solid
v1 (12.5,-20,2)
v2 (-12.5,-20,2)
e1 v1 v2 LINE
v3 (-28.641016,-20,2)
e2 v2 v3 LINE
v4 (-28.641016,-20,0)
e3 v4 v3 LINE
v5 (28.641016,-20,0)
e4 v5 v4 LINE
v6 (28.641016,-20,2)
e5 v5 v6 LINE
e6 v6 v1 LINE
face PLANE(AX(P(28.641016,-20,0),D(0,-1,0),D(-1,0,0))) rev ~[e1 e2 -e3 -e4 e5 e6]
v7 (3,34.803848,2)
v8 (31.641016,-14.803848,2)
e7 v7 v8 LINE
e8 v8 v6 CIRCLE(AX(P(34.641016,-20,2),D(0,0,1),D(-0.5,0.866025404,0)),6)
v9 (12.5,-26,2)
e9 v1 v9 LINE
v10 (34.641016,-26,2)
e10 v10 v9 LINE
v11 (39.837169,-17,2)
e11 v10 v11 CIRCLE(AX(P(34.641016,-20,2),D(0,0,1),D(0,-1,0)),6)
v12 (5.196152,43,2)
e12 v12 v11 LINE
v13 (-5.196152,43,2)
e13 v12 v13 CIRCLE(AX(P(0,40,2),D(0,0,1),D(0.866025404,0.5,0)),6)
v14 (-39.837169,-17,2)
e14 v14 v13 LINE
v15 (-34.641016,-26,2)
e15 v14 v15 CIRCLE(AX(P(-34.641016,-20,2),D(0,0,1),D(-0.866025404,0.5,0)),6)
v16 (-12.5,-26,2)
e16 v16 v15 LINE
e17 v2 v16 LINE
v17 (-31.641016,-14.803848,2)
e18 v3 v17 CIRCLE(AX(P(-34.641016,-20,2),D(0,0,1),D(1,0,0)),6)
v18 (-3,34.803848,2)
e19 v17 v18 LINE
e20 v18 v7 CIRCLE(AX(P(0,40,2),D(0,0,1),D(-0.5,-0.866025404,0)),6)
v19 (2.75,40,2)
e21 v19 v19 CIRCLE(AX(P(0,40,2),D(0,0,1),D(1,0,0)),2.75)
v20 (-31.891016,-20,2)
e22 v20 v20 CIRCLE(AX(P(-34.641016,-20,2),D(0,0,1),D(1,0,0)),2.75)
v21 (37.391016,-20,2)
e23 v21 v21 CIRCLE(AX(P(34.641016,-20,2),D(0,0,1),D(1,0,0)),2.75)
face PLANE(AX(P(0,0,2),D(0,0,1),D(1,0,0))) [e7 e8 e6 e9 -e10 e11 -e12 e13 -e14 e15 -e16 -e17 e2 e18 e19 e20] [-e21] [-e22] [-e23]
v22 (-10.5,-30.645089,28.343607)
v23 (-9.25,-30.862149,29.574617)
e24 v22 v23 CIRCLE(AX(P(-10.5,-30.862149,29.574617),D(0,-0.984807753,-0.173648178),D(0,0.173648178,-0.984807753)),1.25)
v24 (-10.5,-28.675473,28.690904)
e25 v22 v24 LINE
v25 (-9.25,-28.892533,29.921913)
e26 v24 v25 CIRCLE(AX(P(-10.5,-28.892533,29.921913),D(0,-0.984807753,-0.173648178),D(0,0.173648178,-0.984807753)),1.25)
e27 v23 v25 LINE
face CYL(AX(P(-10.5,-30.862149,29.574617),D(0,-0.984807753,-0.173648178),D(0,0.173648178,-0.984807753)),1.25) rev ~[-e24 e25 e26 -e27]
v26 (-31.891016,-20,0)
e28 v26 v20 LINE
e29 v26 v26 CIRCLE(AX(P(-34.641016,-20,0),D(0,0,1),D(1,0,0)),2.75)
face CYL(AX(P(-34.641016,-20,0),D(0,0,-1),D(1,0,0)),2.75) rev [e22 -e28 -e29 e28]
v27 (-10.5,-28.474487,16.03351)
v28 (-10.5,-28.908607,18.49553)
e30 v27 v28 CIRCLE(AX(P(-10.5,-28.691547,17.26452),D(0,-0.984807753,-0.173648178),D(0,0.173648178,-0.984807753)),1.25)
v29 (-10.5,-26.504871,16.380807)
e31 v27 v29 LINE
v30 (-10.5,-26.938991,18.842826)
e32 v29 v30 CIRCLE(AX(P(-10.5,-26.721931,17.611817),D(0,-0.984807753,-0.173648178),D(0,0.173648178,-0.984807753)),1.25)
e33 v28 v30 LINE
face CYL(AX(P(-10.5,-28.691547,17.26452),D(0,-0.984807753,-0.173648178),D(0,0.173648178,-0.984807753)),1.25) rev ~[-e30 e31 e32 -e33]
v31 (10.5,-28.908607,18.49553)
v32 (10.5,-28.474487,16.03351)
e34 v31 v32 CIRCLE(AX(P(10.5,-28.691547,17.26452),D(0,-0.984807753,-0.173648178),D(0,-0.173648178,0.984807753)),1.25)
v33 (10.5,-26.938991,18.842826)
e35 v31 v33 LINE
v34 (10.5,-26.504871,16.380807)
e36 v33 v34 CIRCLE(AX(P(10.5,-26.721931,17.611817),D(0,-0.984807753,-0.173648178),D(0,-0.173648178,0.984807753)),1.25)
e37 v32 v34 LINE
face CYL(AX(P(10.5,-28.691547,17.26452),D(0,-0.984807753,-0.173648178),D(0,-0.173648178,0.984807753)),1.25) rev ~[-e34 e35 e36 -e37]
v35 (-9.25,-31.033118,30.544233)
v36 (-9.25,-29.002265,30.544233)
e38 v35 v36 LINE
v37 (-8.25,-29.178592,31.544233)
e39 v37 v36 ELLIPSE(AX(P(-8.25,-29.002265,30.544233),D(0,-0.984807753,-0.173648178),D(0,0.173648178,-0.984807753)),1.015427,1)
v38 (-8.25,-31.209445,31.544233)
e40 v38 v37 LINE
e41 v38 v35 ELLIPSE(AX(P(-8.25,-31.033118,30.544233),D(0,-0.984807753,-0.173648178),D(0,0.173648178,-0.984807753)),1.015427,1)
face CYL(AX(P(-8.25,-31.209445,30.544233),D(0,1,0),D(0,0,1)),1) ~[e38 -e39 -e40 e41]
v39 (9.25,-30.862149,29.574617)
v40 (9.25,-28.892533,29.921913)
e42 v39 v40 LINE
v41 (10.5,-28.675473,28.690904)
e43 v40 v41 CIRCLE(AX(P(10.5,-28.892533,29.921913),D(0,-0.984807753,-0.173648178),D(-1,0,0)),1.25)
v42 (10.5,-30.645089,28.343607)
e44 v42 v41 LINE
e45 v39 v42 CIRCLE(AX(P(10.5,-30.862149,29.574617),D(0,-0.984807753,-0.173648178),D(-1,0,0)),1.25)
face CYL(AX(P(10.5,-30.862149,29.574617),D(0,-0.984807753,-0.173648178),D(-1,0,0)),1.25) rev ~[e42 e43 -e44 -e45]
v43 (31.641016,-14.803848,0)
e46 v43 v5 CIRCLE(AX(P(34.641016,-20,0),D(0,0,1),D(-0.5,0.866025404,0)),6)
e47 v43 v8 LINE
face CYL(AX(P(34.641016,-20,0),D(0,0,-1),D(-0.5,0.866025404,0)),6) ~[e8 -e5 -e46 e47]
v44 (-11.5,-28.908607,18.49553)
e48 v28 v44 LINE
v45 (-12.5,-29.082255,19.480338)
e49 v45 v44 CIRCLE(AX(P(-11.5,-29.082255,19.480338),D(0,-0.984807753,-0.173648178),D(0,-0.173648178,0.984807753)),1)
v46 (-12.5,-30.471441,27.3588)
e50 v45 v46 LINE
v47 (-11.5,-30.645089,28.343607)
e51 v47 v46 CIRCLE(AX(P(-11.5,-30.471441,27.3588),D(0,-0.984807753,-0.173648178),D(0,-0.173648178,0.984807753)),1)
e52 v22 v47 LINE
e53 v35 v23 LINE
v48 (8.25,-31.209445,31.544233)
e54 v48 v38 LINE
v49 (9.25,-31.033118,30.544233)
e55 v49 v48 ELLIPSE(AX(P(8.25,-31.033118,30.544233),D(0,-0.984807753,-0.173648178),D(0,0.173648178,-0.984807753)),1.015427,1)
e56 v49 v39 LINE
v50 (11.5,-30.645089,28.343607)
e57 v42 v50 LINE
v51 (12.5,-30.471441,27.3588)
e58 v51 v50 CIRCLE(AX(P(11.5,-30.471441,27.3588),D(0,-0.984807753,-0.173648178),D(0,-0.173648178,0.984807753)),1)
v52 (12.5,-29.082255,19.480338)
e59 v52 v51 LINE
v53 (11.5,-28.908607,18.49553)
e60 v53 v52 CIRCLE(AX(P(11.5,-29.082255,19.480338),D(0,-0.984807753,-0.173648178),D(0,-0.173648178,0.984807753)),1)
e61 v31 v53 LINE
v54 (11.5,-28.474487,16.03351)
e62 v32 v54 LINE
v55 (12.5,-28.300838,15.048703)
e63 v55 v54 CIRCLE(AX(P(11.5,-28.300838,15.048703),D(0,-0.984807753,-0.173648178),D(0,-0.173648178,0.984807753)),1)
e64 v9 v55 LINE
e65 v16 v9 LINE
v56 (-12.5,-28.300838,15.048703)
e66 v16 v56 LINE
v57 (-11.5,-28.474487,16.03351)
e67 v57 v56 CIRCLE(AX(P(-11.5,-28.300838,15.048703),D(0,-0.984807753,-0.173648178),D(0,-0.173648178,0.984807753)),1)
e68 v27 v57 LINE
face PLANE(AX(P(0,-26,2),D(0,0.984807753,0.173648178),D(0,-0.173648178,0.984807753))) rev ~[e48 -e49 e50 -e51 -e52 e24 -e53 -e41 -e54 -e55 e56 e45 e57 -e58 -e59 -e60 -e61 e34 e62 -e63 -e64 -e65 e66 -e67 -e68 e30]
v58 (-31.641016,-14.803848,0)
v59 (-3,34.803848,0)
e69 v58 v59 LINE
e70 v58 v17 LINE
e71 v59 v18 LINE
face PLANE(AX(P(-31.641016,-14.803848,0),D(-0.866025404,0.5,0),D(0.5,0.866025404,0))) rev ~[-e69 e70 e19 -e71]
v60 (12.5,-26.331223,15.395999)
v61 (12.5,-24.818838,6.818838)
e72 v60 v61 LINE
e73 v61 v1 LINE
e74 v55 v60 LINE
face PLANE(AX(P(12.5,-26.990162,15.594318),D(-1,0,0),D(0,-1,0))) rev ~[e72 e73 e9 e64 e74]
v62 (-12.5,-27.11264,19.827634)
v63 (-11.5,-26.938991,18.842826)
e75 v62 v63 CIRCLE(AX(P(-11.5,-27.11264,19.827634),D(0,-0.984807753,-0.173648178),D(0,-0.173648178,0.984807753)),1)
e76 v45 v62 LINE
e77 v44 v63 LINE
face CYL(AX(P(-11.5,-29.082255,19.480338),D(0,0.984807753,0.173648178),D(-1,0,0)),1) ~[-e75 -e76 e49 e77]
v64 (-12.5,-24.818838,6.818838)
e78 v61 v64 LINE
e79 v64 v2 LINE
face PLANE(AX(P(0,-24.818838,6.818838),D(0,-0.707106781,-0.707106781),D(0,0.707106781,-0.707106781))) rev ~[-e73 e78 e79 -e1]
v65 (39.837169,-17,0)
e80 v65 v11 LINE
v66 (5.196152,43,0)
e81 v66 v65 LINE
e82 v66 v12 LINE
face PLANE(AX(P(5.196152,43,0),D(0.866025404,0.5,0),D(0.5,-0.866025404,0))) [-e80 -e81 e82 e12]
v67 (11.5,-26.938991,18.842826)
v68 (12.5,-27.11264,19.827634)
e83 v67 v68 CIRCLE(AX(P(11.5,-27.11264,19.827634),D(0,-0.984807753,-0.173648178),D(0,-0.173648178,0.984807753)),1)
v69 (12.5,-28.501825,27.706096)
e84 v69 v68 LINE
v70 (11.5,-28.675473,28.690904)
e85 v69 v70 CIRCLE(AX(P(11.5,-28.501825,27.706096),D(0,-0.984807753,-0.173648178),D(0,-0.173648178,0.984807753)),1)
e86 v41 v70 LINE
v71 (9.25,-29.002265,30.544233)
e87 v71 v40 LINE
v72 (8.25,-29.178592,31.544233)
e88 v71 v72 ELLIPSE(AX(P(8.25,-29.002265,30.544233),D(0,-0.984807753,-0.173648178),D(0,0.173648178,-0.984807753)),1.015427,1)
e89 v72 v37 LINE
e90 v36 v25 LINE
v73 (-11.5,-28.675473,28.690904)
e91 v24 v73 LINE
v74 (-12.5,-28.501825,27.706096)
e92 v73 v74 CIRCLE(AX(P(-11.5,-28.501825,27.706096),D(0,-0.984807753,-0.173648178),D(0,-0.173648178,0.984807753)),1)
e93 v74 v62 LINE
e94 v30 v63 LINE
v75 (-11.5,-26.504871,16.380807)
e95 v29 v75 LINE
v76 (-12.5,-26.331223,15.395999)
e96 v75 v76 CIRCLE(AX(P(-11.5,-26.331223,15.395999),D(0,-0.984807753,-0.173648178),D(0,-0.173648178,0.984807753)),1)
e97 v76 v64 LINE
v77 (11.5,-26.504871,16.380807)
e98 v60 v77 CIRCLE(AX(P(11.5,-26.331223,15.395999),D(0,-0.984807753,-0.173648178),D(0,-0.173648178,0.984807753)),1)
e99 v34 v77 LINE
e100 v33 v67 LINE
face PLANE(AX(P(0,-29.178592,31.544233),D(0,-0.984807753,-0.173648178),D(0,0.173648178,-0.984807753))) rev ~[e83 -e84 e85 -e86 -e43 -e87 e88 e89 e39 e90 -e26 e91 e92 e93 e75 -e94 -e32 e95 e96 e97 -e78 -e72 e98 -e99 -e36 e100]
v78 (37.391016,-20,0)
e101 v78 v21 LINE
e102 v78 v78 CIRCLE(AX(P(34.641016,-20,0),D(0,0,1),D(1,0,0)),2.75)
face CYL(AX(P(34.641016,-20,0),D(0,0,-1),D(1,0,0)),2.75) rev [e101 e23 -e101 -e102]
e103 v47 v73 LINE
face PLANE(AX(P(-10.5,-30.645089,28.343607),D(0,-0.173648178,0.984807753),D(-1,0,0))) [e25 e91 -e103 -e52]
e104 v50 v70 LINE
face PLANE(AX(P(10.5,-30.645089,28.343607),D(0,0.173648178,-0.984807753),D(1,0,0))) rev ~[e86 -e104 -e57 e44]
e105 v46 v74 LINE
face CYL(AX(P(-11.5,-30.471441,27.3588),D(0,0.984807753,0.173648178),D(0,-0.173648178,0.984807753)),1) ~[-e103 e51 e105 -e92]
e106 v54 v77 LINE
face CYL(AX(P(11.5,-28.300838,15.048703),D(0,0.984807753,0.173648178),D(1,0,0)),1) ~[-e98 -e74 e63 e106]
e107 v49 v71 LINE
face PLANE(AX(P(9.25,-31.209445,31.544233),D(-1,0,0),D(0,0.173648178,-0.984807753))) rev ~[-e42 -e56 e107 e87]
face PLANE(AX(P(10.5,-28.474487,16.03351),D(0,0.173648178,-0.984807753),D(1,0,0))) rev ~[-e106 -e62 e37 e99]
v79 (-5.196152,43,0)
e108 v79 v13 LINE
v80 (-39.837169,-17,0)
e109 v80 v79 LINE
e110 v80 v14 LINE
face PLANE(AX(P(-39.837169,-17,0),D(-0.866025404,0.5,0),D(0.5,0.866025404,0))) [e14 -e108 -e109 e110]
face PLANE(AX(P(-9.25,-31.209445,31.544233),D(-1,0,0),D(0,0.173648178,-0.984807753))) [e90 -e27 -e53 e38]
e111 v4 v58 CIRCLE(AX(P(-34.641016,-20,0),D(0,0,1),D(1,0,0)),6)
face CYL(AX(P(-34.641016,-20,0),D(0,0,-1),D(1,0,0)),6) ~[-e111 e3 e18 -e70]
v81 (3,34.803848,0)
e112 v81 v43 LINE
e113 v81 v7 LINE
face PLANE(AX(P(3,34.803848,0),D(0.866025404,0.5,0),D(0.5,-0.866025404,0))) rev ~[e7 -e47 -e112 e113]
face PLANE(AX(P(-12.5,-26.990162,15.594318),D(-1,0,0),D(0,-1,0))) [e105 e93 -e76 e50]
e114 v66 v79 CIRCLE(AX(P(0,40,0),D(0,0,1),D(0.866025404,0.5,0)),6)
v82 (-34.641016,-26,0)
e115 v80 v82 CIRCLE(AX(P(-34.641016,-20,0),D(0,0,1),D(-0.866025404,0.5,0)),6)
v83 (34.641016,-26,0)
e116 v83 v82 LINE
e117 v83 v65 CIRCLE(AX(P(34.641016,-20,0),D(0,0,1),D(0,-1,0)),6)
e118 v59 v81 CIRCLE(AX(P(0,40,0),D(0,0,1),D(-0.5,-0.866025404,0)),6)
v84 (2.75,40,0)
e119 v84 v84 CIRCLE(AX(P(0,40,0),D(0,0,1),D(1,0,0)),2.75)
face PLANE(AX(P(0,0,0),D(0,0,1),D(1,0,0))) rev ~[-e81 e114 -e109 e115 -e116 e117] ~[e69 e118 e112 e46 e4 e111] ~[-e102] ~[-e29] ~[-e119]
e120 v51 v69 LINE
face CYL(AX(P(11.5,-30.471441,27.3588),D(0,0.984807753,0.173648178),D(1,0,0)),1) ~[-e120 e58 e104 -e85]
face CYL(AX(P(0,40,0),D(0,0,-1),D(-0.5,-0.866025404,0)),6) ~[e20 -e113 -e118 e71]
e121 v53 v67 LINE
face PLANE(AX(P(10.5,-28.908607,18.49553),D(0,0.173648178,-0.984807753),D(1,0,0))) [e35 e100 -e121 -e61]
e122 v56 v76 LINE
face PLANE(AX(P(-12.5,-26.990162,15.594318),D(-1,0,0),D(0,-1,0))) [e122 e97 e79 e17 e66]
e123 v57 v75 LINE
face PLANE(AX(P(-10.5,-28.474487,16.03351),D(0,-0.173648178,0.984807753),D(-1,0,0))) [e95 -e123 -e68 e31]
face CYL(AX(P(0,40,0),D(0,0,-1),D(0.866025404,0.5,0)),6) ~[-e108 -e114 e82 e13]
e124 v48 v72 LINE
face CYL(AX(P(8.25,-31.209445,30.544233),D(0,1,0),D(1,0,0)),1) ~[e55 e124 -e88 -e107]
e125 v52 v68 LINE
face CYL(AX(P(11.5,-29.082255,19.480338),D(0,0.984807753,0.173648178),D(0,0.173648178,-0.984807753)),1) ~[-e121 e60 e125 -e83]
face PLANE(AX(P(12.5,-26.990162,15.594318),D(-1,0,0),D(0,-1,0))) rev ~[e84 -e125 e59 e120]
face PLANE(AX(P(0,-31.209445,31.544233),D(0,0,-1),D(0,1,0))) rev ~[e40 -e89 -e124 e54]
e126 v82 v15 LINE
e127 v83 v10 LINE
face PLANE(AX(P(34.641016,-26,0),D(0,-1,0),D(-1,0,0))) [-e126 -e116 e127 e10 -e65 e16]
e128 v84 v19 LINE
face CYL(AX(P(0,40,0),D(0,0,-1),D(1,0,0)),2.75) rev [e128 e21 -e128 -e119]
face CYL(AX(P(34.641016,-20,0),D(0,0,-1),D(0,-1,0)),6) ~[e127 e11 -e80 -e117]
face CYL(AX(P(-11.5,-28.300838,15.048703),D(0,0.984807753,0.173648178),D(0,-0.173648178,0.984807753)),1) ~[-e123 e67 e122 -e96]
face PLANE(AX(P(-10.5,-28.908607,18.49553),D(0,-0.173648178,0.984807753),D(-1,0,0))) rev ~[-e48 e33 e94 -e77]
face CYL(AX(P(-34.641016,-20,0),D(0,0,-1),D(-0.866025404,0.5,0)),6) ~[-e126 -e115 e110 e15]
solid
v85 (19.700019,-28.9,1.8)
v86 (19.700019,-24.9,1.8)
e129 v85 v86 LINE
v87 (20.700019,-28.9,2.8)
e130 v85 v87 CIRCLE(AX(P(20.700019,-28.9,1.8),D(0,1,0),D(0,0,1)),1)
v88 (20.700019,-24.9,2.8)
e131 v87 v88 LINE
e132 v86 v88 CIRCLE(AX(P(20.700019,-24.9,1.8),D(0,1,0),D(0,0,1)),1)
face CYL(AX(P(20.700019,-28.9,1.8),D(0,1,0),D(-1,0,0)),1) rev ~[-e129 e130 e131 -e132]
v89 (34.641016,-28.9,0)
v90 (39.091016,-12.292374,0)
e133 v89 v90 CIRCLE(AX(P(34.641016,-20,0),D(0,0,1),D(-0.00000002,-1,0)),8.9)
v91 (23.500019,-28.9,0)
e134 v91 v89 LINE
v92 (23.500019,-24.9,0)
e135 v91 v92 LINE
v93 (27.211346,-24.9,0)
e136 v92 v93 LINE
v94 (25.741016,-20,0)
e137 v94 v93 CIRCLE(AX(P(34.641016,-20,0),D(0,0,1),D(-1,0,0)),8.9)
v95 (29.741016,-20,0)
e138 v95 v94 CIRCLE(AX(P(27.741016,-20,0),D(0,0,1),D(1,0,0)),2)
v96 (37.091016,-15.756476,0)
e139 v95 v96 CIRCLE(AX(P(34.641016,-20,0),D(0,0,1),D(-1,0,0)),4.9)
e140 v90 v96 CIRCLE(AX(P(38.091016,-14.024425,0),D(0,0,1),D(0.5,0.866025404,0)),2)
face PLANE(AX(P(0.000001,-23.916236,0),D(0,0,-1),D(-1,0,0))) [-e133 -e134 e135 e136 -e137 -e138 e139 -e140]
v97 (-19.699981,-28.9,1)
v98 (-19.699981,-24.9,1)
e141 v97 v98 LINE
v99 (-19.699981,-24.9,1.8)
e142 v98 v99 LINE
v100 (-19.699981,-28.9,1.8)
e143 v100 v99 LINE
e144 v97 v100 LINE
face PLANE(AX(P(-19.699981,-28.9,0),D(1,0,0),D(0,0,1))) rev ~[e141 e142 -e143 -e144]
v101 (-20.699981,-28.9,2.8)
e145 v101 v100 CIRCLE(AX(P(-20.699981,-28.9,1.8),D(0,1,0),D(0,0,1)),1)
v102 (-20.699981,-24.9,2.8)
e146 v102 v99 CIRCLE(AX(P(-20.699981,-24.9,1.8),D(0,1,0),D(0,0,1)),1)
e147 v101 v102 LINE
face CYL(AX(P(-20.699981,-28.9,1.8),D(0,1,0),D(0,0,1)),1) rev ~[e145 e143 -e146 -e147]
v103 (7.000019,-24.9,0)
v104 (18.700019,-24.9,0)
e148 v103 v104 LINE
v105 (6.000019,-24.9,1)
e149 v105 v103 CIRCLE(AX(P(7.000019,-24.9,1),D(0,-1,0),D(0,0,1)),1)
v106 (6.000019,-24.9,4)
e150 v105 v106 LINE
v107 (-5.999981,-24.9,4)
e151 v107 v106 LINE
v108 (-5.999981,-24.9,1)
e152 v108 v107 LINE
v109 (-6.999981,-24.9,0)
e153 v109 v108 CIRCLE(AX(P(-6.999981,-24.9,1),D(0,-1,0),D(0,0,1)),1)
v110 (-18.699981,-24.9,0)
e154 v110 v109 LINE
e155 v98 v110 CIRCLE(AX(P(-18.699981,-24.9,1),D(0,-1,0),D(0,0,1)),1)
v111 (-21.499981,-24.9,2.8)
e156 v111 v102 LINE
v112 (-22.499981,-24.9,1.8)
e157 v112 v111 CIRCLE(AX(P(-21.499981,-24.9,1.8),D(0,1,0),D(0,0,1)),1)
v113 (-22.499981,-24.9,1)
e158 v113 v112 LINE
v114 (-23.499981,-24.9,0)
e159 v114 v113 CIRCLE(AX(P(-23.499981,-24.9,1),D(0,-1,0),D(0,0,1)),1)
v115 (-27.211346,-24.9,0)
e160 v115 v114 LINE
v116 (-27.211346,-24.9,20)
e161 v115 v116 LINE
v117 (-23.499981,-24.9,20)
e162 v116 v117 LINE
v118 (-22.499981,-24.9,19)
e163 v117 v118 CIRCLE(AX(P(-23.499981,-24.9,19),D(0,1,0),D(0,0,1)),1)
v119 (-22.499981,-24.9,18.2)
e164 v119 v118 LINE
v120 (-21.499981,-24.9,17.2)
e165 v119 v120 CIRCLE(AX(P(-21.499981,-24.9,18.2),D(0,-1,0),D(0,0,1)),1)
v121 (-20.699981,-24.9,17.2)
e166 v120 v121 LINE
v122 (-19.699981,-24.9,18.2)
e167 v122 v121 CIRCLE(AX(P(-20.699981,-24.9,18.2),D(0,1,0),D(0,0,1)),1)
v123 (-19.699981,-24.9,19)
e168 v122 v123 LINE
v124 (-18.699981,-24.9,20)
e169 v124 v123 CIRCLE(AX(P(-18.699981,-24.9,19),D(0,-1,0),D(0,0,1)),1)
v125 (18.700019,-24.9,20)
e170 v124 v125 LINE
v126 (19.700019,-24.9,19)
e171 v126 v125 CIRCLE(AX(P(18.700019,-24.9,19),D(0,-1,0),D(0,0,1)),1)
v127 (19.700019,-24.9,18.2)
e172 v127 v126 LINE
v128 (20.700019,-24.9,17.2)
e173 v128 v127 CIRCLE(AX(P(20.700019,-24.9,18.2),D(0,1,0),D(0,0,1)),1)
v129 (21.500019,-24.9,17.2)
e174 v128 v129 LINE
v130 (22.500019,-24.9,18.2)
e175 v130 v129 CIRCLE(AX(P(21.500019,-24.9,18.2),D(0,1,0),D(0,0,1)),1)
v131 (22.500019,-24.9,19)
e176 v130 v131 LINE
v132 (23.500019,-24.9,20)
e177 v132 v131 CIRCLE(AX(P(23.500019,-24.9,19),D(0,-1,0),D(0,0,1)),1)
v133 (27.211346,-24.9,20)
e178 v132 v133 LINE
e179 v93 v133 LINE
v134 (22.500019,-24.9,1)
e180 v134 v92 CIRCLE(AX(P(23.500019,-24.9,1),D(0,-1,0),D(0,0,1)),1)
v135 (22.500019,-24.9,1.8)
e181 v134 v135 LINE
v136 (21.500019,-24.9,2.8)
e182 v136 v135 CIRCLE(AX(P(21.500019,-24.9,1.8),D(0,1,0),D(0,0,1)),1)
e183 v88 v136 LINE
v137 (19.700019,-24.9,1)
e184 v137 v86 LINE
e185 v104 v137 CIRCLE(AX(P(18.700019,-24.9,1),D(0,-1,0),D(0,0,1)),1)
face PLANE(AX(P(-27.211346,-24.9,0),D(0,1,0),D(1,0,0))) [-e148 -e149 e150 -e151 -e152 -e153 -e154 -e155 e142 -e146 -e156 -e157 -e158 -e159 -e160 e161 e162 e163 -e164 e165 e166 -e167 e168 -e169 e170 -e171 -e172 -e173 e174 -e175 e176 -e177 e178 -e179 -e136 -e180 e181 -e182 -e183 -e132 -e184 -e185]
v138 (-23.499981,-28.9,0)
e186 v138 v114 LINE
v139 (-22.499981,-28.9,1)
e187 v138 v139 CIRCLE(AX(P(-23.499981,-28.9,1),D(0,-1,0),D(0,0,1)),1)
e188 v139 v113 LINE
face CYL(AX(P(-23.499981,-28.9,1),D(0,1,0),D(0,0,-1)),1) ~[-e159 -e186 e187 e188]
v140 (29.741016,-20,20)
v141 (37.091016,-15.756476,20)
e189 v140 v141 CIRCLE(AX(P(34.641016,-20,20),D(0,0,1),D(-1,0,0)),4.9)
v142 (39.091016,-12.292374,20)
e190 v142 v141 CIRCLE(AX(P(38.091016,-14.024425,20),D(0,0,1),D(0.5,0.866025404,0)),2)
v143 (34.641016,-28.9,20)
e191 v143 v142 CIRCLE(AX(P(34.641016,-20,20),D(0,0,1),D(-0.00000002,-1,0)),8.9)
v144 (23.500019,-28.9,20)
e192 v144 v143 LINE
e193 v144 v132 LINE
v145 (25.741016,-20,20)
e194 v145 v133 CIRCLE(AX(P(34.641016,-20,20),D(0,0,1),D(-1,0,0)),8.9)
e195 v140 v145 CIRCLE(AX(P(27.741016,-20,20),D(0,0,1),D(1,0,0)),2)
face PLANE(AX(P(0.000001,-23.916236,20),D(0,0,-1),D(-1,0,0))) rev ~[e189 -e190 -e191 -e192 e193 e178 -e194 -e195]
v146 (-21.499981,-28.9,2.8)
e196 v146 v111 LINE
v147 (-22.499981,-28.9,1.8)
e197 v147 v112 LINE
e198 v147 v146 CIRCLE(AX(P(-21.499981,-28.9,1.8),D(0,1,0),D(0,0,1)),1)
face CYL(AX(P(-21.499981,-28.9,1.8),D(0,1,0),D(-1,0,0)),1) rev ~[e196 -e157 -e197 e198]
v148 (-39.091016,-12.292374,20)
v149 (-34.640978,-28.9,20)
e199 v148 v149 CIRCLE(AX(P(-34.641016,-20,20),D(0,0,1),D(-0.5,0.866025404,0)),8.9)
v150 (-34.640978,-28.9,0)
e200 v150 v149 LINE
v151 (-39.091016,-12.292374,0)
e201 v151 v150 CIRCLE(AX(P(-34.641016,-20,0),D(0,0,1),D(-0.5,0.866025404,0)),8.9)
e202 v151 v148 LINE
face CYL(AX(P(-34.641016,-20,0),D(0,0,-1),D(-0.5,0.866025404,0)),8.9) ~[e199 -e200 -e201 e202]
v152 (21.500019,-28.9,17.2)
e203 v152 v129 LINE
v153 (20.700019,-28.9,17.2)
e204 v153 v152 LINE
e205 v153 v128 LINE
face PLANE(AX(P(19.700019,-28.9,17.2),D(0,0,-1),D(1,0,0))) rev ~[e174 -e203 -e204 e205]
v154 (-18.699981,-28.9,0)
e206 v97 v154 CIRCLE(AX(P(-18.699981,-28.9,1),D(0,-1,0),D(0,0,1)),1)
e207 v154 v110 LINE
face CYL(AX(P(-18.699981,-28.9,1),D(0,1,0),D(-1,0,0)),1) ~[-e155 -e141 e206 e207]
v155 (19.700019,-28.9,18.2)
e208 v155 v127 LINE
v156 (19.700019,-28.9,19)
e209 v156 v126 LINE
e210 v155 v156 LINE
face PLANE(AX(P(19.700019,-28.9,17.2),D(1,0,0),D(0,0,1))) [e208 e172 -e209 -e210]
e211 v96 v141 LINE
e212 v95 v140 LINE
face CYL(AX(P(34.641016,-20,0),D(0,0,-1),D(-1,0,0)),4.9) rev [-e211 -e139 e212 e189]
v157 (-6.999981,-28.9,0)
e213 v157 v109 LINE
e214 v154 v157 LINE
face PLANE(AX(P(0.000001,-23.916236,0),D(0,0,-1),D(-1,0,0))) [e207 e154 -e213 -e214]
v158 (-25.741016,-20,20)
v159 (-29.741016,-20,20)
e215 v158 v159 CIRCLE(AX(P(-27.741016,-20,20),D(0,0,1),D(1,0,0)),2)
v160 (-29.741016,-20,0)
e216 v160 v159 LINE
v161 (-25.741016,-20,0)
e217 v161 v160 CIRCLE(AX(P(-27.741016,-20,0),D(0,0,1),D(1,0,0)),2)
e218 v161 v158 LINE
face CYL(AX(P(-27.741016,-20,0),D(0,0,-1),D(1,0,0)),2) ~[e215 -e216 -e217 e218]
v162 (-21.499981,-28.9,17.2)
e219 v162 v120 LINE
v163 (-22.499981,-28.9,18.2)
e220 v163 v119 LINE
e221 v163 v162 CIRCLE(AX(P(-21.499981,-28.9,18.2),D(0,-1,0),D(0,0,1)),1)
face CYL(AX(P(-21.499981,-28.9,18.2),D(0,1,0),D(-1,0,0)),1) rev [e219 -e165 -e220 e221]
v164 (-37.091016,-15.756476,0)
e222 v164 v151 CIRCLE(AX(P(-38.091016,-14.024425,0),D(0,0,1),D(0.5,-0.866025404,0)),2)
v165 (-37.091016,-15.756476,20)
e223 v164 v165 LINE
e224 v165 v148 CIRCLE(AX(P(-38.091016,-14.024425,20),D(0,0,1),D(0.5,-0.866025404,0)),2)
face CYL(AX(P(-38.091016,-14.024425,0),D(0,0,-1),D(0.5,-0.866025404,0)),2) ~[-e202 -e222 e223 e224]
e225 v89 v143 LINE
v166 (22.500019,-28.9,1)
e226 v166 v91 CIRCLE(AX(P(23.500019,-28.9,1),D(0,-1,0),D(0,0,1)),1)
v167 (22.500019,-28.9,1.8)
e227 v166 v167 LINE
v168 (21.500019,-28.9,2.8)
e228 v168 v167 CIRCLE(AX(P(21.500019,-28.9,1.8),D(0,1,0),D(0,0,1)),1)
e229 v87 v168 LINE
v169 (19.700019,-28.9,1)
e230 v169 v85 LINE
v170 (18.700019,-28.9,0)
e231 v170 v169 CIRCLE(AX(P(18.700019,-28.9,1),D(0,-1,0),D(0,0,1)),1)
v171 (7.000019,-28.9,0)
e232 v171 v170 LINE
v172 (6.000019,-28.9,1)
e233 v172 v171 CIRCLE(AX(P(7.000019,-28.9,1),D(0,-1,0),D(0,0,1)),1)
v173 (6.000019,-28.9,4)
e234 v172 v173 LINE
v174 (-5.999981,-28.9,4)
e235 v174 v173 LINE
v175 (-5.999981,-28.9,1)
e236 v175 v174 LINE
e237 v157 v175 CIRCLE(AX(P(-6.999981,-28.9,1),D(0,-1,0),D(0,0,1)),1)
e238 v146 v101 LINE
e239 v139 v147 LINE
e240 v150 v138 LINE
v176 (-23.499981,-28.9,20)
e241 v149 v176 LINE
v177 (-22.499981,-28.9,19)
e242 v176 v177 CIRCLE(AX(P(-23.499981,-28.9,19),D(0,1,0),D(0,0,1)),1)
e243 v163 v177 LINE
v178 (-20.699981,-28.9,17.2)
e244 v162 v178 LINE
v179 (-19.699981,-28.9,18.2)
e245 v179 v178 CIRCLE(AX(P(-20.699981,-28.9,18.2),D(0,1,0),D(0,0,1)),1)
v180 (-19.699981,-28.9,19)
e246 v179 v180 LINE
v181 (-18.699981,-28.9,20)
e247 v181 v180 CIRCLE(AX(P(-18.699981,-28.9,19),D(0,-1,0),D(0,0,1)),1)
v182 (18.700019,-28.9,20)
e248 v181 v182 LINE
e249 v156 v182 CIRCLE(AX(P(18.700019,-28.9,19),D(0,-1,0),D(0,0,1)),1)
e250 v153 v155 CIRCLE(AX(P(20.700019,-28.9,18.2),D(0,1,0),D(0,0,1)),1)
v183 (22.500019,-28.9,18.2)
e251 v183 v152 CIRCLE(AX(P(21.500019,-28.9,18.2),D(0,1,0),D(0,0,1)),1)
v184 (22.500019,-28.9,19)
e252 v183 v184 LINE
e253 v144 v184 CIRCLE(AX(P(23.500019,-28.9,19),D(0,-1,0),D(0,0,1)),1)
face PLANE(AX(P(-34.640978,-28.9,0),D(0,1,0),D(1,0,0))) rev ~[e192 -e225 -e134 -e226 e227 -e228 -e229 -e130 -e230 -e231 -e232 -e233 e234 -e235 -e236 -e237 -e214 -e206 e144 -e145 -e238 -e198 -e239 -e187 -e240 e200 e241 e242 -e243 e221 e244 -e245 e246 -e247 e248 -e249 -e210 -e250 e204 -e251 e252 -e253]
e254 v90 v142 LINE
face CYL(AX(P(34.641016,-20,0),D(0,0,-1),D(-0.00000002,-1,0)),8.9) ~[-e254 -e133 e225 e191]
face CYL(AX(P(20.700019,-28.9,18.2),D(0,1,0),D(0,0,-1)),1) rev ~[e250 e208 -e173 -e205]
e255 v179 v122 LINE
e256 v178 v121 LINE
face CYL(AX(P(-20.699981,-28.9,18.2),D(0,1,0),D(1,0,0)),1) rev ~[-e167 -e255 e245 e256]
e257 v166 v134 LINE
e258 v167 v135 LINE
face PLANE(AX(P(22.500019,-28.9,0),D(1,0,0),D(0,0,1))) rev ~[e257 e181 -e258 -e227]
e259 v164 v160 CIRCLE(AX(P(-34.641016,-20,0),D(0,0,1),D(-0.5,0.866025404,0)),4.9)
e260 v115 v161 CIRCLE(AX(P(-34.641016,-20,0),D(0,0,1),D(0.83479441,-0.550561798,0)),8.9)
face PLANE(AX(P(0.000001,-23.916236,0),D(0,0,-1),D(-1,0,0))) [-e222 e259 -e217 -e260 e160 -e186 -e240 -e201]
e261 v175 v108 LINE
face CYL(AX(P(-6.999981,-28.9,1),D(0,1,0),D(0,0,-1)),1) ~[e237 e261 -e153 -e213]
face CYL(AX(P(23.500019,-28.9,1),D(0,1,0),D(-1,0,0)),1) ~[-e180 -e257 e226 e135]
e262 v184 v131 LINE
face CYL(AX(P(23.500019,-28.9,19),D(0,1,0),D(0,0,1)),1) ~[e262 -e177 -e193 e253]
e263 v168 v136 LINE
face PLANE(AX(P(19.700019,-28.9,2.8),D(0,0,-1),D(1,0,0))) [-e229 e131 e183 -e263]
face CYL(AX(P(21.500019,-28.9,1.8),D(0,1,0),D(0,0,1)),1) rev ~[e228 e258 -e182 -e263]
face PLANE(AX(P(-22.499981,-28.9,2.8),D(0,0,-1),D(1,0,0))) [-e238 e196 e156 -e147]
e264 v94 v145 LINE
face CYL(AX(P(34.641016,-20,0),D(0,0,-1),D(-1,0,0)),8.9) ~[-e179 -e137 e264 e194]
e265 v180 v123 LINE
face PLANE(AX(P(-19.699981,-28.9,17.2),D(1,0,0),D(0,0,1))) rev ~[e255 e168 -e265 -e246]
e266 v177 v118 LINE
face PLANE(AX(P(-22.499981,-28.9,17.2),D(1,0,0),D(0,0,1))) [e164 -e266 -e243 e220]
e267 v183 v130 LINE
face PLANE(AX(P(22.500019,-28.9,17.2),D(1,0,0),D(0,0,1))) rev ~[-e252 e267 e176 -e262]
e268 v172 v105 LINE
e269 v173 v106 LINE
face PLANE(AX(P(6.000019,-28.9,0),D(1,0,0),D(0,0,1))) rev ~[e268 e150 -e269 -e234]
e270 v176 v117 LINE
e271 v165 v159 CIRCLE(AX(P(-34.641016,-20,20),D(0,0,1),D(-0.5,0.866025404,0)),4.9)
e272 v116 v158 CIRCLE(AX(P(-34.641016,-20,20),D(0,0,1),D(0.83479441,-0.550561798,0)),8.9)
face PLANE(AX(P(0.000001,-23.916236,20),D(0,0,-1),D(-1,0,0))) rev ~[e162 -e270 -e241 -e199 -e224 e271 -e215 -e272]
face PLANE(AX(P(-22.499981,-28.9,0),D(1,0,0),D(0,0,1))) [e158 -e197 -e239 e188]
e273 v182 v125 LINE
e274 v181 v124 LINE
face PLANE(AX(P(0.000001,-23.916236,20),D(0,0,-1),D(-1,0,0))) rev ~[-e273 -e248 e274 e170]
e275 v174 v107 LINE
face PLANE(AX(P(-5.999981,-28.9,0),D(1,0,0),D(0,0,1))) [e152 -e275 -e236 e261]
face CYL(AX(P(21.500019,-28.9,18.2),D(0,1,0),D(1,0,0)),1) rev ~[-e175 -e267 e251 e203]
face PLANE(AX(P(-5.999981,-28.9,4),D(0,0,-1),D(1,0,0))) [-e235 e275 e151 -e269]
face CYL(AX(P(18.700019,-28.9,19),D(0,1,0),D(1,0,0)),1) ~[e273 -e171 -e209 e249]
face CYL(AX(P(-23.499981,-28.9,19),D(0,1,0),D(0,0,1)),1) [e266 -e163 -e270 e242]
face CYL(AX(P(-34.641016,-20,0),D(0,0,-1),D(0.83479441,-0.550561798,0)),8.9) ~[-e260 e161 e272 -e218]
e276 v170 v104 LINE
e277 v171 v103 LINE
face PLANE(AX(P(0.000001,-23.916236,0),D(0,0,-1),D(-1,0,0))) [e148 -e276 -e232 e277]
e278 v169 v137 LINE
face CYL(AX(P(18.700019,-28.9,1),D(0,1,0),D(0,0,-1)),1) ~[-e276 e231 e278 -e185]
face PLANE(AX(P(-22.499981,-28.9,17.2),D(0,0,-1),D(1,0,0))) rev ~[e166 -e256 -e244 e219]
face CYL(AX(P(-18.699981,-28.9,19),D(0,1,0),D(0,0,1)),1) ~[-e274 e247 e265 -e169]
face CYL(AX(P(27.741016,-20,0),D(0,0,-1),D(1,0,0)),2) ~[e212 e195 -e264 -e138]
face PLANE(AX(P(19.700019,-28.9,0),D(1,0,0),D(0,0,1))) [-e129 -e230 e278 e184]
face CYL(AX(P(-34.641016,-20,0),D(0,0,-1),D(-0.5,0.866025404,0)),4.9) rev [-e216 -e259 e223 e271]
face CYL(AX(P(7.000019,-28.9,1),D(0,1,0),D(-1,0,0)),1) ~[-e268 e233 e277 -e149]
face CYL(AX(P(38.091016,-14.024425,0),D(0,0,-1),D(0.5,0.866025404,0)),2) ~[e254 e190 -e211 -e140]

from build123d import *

# Parameters (mm, degrees)
SKETCH_R          = 2.75
PAD_DEPTH         = 2
PAD001_DEPTH      = 12.5
PAD001_DEPTH_BACK = 12.5
POCKET_DEPTH      = 76.0374603668
FILLET_R          = 1
PAD002_DEPTH      = 20
SKETCH005_W       = 2.8
SKETCH005_H       = 2.8
SKETCH005_W_2     = 12
SKETCH005_H_2     = 4
POCKET001_DEPTH   = 4
FILLET001_R       = 1


with BuildPart() as body:
    # Sketch → Pad (new body)
    with BuildSketch(Plane.XY):
        with BuildLine():
            ThreePointArc((5.1961524227, 43), (0, 46), (-5.1961524227, 43))
            Line((-39.8371685741, -17), (-5.1961524227, 43))
            ThreePointArc((-39.8371685741, -17), (-39.8371685741, -23), (-34.6410161514, -26))
            Line((34.6410161514, -26), (-34.6410161514, -26))
            ThreePointArc((34.6410161514, -26), (39.8371685741, -23), (39.8371685741, -17))
            Line((5.1961524227, 43), (39.8371685741, -17))
        make_face()
        with Locations((0, 40)):
            Circle(SKETCH_R, mode=Mode.SUBTRACT)
        with Locations((-34.6410161514, -20)):
            Circle(SKETCH_R, mode=Mode.SUBTRACT)
        with Locations((34.6410161514, -20)):
            Circle(SKETCH_R, mode=Mode.SUBTRACT)
        with BuildLine():
            ThreePointArc((-28.6410161514, -20), (-29.4448637287, -17), (-31.6410161514, -14.8038475773))
            Line((-31.6410161514, -14.8038475773), (-3, 34.8038475773))
            ThreePointArc((-3, 34.8038475773), (0, 34), (3, 34.8038475773))
            Line((3, 34.8038475773), (31.6410161514, -14.8038475773))
            ThreePointArc((31.6410161514, -14.8038475773), (29.4448637287, -17), (28.6410161514, -20))
            Line((28.6410161514, -20), (-28.6410161514, -20))
        make_face(mode=Mode.SUBTRACT)
    extrude(amount=PAD_DEPTH)

    # Sketch001 → Pad001 (join, two sides)
    with BuildSketch(Plane.YZ) as pad001_sk:
        Polygon((-26, 2), (-31.20944533, 31.5442325904), (-29.1785921062, 31.5442325904), (-24.8188379166, 6.8188379166), (-20, 2), align=None)
    extrude(amount=PAD001_DEPTH)
    extrude(pad001_sk.sketch, amount=-PAD001_DEPTH_BACK)

    # Sketch003 (on Face7 of Pad001) → Pocket (cut, through all)
    with BuildSketch(Plane(origin=(0, -24.8739839269, -4.385954484), x_dir=(1, 0, 0), z_dir=(0, -0.984807753, -0.1736481777))):
        with BuildLine():
            ThreePointArc((-10.5, 33.2344681254), (-9.6161165235, 33.6005846489), (-9.25, 34.4844681254))
            Line((-9.25, 36.4844681254), (-9.25, 34.4844681254))
            Line((-12.5, 36.4844681254), (-9.25, 36.4844681254))
            Line((-12.5, 33.2344681254), (-12.5, 36.4844681254))
            Line((-10.5, 33.2344681254), (-12.5, 33.2344681254))
        make_face()
        with BuildLine():
            ThreePointArc((9.25, 34.4844681254), (9.6161165235, 33.6005846489), (10.5, 33.2344681254))
            Line((10.5, 33.2344681254), (12.5, 33.2344681254))
            Line((12.5, 33.2344681254), (12.5, 36.4844681254))
            Line((12.5, 36.4844681254), (9.25, 36.4844681254))
            Line((9.25, 36.4844681254), (9.25, 34.4844681254))
        make_face()
        with BuildLine():
            ThreePointArc((10.5, 23.2344681254), (9.25, 21.9844681254), (10.5, 20.7344681254))
            Line((10.5, 20.7344681254), (12.5, 20.7344681254))
            Line((12.5, 23.2344681254), (12.5, 20.7344681254))
            Line((10.5, 23.2344681254), (12.5, 23.2344681254))
        make_face()
        with BuildLine():
            ThreePointArc((-10.5, 20.7344681254), (-9.25, 21.9844681254), (-10.5, 23.2344681254))
            Line((-10.5, 23.2344681254), (-12.5, 23.2344681254))
            Line((-12.5, 20.7344681254), (-12.5, 23.2344681254))
            Line((-10.5, 20.7344681254), (-12.5, 20.7344681254))
        make_face()
    extrude(amount=-POCKET_DEPTH, mode=Mode.SUBTRACT)

    # Fillet
    fillet_edges = [body.edges().sort_by_distance(p)[0] for p in [
        (9.25, -30.194019, 31.544233),
        (-9.25, -30.194019, 31.544233),
        (-12.5, -29.660281, 28.517256),
        (12.5, -29.660281, 28.517256),
        (12.5, -27.489679, 16.207159),
        (-12.5, -27.489679, 16.207159),
        (-12.5, -27.923799, 18.669178),
        (12.5, -27.923799, 18.669178),
    ]]
    fillet(fillet_edges, radius=FILLET_R)


with BuildPart() as body001:
    # Sketch004 → Pad002 (new body)
    with BuildSketch(Plane.XY):
        with BuildLine():
            ThreePointArc((-37.0910161514, -15.7564755215), (-37.0910161514, -24.2435244785), (-29.7410161514, -20))
            ThreePointArc((-25.7410161514, -20), (-27.7410161514, -18), (-29.7410161514, -20))
            ThreePointArc((-27.211345903, -24.9), (-26.116520119, -22.5579224763), (-25.7410161514, -20))
            Line((-27.211345903, -24.9), (27.211345903, -24.9))
            ThreePointArc((25.7410161514, -20), (26.116520119, -22.5579224763), (27.211345903, -24.9))
            ThreePointArc((29.7410161514, -20), (27.7410161514, -18), (25.7410161514, -20))
            ThreePointArc((29.7410161514, -20), (37.0910161514, -24.2435244785), (37.0910161514, -15.7564755215))
            ThreePointArc((39.0910161514, -12.2923739063), (36.3589653438, -13.0244247139), (37.0910161514, -15.7564755215))
            ThreePointArc((34.6410159769, -28.9), (43.2377559828, -22.3034895857), (39.0910161514, -12.2923739063))
            Line((-34.6409781744, -28.9), (34.6410159769, -28.9))
            ThreePointArc((-39.0910161514, -12.2923739063), (-43.2377510908, -22.3035078429), (-34.6409781744, -28.8999999999))
            ThreePointArc((-37.0910161514, -15.7564755215), (-36.3589653438, -13.0244247139), (-39.0910161514, -12.2923739063))
        make_face()
    extrude(amount=PAD002_DEPTH)

    # Sketch005 (on Face11 of Pad002) → Pocket001 (cut)
    with BuildSketch(Plane.XZ.offset(28.9)):
        with Locations((-21.0999810988, 1.4)):
            Rectangle(SKETCH005_W, SKETCH005_H)
        with Locations((21.1000189012, 1.4)):
            Rectangle(SKETCH005_W, SKETCH005_H)
        with Locations((21.1000189012, 18.6)):
            Rectangle(SKETCH005_W, SKETCH005_H)
        with Locations((-21.0999810988, 18.6)):
            Rectangle(SKETCH005_W, SKETCH005_H)
        with Locations((1.89012e-05, 2)):
            Rectangle(SKETCH005_W_2, SKETCH005_H_2)
    extrude(amount=-POCKET001_DEPTH, mode=Mode.SUBTRACT)

    # Fillet001
    fillet001_edges = [body001.edges().sort_by_distance(p)[0] for p in [
        (-22.499981, -26.9, 17.2),
        (-22.499981, -26.9, 20),
        (-19.699981, -26.9, 17.2),
        (-19.699981, -26.9, 20),
        (22.500019, -26.9, 17.2),
        (22.500019, -26.9, 20),
        (19.700019, -26.9, 20),
        (19.700019, -26.9, 17.2),
        (-19.699981, -26.9, 2.8),
        (-19.699981, -26.9, 0),
        (-22.499981, -26.9, 2.8),
        (-22.499981, -26.9, 0),
        (19.700019, -26.9, 2.8),
        (19.700019, -26.9, 0),
        (22.500019, -26.9, 2.8),
        (22.500019, -26.9, 0),
        (6.000019, -26.9, 0),
        (-5.999981, -26.9, 0),
    ]]
    fillet(fillet001_edges, radius=FILLET001_R)


solid = Compound([body.part, body001.part])
